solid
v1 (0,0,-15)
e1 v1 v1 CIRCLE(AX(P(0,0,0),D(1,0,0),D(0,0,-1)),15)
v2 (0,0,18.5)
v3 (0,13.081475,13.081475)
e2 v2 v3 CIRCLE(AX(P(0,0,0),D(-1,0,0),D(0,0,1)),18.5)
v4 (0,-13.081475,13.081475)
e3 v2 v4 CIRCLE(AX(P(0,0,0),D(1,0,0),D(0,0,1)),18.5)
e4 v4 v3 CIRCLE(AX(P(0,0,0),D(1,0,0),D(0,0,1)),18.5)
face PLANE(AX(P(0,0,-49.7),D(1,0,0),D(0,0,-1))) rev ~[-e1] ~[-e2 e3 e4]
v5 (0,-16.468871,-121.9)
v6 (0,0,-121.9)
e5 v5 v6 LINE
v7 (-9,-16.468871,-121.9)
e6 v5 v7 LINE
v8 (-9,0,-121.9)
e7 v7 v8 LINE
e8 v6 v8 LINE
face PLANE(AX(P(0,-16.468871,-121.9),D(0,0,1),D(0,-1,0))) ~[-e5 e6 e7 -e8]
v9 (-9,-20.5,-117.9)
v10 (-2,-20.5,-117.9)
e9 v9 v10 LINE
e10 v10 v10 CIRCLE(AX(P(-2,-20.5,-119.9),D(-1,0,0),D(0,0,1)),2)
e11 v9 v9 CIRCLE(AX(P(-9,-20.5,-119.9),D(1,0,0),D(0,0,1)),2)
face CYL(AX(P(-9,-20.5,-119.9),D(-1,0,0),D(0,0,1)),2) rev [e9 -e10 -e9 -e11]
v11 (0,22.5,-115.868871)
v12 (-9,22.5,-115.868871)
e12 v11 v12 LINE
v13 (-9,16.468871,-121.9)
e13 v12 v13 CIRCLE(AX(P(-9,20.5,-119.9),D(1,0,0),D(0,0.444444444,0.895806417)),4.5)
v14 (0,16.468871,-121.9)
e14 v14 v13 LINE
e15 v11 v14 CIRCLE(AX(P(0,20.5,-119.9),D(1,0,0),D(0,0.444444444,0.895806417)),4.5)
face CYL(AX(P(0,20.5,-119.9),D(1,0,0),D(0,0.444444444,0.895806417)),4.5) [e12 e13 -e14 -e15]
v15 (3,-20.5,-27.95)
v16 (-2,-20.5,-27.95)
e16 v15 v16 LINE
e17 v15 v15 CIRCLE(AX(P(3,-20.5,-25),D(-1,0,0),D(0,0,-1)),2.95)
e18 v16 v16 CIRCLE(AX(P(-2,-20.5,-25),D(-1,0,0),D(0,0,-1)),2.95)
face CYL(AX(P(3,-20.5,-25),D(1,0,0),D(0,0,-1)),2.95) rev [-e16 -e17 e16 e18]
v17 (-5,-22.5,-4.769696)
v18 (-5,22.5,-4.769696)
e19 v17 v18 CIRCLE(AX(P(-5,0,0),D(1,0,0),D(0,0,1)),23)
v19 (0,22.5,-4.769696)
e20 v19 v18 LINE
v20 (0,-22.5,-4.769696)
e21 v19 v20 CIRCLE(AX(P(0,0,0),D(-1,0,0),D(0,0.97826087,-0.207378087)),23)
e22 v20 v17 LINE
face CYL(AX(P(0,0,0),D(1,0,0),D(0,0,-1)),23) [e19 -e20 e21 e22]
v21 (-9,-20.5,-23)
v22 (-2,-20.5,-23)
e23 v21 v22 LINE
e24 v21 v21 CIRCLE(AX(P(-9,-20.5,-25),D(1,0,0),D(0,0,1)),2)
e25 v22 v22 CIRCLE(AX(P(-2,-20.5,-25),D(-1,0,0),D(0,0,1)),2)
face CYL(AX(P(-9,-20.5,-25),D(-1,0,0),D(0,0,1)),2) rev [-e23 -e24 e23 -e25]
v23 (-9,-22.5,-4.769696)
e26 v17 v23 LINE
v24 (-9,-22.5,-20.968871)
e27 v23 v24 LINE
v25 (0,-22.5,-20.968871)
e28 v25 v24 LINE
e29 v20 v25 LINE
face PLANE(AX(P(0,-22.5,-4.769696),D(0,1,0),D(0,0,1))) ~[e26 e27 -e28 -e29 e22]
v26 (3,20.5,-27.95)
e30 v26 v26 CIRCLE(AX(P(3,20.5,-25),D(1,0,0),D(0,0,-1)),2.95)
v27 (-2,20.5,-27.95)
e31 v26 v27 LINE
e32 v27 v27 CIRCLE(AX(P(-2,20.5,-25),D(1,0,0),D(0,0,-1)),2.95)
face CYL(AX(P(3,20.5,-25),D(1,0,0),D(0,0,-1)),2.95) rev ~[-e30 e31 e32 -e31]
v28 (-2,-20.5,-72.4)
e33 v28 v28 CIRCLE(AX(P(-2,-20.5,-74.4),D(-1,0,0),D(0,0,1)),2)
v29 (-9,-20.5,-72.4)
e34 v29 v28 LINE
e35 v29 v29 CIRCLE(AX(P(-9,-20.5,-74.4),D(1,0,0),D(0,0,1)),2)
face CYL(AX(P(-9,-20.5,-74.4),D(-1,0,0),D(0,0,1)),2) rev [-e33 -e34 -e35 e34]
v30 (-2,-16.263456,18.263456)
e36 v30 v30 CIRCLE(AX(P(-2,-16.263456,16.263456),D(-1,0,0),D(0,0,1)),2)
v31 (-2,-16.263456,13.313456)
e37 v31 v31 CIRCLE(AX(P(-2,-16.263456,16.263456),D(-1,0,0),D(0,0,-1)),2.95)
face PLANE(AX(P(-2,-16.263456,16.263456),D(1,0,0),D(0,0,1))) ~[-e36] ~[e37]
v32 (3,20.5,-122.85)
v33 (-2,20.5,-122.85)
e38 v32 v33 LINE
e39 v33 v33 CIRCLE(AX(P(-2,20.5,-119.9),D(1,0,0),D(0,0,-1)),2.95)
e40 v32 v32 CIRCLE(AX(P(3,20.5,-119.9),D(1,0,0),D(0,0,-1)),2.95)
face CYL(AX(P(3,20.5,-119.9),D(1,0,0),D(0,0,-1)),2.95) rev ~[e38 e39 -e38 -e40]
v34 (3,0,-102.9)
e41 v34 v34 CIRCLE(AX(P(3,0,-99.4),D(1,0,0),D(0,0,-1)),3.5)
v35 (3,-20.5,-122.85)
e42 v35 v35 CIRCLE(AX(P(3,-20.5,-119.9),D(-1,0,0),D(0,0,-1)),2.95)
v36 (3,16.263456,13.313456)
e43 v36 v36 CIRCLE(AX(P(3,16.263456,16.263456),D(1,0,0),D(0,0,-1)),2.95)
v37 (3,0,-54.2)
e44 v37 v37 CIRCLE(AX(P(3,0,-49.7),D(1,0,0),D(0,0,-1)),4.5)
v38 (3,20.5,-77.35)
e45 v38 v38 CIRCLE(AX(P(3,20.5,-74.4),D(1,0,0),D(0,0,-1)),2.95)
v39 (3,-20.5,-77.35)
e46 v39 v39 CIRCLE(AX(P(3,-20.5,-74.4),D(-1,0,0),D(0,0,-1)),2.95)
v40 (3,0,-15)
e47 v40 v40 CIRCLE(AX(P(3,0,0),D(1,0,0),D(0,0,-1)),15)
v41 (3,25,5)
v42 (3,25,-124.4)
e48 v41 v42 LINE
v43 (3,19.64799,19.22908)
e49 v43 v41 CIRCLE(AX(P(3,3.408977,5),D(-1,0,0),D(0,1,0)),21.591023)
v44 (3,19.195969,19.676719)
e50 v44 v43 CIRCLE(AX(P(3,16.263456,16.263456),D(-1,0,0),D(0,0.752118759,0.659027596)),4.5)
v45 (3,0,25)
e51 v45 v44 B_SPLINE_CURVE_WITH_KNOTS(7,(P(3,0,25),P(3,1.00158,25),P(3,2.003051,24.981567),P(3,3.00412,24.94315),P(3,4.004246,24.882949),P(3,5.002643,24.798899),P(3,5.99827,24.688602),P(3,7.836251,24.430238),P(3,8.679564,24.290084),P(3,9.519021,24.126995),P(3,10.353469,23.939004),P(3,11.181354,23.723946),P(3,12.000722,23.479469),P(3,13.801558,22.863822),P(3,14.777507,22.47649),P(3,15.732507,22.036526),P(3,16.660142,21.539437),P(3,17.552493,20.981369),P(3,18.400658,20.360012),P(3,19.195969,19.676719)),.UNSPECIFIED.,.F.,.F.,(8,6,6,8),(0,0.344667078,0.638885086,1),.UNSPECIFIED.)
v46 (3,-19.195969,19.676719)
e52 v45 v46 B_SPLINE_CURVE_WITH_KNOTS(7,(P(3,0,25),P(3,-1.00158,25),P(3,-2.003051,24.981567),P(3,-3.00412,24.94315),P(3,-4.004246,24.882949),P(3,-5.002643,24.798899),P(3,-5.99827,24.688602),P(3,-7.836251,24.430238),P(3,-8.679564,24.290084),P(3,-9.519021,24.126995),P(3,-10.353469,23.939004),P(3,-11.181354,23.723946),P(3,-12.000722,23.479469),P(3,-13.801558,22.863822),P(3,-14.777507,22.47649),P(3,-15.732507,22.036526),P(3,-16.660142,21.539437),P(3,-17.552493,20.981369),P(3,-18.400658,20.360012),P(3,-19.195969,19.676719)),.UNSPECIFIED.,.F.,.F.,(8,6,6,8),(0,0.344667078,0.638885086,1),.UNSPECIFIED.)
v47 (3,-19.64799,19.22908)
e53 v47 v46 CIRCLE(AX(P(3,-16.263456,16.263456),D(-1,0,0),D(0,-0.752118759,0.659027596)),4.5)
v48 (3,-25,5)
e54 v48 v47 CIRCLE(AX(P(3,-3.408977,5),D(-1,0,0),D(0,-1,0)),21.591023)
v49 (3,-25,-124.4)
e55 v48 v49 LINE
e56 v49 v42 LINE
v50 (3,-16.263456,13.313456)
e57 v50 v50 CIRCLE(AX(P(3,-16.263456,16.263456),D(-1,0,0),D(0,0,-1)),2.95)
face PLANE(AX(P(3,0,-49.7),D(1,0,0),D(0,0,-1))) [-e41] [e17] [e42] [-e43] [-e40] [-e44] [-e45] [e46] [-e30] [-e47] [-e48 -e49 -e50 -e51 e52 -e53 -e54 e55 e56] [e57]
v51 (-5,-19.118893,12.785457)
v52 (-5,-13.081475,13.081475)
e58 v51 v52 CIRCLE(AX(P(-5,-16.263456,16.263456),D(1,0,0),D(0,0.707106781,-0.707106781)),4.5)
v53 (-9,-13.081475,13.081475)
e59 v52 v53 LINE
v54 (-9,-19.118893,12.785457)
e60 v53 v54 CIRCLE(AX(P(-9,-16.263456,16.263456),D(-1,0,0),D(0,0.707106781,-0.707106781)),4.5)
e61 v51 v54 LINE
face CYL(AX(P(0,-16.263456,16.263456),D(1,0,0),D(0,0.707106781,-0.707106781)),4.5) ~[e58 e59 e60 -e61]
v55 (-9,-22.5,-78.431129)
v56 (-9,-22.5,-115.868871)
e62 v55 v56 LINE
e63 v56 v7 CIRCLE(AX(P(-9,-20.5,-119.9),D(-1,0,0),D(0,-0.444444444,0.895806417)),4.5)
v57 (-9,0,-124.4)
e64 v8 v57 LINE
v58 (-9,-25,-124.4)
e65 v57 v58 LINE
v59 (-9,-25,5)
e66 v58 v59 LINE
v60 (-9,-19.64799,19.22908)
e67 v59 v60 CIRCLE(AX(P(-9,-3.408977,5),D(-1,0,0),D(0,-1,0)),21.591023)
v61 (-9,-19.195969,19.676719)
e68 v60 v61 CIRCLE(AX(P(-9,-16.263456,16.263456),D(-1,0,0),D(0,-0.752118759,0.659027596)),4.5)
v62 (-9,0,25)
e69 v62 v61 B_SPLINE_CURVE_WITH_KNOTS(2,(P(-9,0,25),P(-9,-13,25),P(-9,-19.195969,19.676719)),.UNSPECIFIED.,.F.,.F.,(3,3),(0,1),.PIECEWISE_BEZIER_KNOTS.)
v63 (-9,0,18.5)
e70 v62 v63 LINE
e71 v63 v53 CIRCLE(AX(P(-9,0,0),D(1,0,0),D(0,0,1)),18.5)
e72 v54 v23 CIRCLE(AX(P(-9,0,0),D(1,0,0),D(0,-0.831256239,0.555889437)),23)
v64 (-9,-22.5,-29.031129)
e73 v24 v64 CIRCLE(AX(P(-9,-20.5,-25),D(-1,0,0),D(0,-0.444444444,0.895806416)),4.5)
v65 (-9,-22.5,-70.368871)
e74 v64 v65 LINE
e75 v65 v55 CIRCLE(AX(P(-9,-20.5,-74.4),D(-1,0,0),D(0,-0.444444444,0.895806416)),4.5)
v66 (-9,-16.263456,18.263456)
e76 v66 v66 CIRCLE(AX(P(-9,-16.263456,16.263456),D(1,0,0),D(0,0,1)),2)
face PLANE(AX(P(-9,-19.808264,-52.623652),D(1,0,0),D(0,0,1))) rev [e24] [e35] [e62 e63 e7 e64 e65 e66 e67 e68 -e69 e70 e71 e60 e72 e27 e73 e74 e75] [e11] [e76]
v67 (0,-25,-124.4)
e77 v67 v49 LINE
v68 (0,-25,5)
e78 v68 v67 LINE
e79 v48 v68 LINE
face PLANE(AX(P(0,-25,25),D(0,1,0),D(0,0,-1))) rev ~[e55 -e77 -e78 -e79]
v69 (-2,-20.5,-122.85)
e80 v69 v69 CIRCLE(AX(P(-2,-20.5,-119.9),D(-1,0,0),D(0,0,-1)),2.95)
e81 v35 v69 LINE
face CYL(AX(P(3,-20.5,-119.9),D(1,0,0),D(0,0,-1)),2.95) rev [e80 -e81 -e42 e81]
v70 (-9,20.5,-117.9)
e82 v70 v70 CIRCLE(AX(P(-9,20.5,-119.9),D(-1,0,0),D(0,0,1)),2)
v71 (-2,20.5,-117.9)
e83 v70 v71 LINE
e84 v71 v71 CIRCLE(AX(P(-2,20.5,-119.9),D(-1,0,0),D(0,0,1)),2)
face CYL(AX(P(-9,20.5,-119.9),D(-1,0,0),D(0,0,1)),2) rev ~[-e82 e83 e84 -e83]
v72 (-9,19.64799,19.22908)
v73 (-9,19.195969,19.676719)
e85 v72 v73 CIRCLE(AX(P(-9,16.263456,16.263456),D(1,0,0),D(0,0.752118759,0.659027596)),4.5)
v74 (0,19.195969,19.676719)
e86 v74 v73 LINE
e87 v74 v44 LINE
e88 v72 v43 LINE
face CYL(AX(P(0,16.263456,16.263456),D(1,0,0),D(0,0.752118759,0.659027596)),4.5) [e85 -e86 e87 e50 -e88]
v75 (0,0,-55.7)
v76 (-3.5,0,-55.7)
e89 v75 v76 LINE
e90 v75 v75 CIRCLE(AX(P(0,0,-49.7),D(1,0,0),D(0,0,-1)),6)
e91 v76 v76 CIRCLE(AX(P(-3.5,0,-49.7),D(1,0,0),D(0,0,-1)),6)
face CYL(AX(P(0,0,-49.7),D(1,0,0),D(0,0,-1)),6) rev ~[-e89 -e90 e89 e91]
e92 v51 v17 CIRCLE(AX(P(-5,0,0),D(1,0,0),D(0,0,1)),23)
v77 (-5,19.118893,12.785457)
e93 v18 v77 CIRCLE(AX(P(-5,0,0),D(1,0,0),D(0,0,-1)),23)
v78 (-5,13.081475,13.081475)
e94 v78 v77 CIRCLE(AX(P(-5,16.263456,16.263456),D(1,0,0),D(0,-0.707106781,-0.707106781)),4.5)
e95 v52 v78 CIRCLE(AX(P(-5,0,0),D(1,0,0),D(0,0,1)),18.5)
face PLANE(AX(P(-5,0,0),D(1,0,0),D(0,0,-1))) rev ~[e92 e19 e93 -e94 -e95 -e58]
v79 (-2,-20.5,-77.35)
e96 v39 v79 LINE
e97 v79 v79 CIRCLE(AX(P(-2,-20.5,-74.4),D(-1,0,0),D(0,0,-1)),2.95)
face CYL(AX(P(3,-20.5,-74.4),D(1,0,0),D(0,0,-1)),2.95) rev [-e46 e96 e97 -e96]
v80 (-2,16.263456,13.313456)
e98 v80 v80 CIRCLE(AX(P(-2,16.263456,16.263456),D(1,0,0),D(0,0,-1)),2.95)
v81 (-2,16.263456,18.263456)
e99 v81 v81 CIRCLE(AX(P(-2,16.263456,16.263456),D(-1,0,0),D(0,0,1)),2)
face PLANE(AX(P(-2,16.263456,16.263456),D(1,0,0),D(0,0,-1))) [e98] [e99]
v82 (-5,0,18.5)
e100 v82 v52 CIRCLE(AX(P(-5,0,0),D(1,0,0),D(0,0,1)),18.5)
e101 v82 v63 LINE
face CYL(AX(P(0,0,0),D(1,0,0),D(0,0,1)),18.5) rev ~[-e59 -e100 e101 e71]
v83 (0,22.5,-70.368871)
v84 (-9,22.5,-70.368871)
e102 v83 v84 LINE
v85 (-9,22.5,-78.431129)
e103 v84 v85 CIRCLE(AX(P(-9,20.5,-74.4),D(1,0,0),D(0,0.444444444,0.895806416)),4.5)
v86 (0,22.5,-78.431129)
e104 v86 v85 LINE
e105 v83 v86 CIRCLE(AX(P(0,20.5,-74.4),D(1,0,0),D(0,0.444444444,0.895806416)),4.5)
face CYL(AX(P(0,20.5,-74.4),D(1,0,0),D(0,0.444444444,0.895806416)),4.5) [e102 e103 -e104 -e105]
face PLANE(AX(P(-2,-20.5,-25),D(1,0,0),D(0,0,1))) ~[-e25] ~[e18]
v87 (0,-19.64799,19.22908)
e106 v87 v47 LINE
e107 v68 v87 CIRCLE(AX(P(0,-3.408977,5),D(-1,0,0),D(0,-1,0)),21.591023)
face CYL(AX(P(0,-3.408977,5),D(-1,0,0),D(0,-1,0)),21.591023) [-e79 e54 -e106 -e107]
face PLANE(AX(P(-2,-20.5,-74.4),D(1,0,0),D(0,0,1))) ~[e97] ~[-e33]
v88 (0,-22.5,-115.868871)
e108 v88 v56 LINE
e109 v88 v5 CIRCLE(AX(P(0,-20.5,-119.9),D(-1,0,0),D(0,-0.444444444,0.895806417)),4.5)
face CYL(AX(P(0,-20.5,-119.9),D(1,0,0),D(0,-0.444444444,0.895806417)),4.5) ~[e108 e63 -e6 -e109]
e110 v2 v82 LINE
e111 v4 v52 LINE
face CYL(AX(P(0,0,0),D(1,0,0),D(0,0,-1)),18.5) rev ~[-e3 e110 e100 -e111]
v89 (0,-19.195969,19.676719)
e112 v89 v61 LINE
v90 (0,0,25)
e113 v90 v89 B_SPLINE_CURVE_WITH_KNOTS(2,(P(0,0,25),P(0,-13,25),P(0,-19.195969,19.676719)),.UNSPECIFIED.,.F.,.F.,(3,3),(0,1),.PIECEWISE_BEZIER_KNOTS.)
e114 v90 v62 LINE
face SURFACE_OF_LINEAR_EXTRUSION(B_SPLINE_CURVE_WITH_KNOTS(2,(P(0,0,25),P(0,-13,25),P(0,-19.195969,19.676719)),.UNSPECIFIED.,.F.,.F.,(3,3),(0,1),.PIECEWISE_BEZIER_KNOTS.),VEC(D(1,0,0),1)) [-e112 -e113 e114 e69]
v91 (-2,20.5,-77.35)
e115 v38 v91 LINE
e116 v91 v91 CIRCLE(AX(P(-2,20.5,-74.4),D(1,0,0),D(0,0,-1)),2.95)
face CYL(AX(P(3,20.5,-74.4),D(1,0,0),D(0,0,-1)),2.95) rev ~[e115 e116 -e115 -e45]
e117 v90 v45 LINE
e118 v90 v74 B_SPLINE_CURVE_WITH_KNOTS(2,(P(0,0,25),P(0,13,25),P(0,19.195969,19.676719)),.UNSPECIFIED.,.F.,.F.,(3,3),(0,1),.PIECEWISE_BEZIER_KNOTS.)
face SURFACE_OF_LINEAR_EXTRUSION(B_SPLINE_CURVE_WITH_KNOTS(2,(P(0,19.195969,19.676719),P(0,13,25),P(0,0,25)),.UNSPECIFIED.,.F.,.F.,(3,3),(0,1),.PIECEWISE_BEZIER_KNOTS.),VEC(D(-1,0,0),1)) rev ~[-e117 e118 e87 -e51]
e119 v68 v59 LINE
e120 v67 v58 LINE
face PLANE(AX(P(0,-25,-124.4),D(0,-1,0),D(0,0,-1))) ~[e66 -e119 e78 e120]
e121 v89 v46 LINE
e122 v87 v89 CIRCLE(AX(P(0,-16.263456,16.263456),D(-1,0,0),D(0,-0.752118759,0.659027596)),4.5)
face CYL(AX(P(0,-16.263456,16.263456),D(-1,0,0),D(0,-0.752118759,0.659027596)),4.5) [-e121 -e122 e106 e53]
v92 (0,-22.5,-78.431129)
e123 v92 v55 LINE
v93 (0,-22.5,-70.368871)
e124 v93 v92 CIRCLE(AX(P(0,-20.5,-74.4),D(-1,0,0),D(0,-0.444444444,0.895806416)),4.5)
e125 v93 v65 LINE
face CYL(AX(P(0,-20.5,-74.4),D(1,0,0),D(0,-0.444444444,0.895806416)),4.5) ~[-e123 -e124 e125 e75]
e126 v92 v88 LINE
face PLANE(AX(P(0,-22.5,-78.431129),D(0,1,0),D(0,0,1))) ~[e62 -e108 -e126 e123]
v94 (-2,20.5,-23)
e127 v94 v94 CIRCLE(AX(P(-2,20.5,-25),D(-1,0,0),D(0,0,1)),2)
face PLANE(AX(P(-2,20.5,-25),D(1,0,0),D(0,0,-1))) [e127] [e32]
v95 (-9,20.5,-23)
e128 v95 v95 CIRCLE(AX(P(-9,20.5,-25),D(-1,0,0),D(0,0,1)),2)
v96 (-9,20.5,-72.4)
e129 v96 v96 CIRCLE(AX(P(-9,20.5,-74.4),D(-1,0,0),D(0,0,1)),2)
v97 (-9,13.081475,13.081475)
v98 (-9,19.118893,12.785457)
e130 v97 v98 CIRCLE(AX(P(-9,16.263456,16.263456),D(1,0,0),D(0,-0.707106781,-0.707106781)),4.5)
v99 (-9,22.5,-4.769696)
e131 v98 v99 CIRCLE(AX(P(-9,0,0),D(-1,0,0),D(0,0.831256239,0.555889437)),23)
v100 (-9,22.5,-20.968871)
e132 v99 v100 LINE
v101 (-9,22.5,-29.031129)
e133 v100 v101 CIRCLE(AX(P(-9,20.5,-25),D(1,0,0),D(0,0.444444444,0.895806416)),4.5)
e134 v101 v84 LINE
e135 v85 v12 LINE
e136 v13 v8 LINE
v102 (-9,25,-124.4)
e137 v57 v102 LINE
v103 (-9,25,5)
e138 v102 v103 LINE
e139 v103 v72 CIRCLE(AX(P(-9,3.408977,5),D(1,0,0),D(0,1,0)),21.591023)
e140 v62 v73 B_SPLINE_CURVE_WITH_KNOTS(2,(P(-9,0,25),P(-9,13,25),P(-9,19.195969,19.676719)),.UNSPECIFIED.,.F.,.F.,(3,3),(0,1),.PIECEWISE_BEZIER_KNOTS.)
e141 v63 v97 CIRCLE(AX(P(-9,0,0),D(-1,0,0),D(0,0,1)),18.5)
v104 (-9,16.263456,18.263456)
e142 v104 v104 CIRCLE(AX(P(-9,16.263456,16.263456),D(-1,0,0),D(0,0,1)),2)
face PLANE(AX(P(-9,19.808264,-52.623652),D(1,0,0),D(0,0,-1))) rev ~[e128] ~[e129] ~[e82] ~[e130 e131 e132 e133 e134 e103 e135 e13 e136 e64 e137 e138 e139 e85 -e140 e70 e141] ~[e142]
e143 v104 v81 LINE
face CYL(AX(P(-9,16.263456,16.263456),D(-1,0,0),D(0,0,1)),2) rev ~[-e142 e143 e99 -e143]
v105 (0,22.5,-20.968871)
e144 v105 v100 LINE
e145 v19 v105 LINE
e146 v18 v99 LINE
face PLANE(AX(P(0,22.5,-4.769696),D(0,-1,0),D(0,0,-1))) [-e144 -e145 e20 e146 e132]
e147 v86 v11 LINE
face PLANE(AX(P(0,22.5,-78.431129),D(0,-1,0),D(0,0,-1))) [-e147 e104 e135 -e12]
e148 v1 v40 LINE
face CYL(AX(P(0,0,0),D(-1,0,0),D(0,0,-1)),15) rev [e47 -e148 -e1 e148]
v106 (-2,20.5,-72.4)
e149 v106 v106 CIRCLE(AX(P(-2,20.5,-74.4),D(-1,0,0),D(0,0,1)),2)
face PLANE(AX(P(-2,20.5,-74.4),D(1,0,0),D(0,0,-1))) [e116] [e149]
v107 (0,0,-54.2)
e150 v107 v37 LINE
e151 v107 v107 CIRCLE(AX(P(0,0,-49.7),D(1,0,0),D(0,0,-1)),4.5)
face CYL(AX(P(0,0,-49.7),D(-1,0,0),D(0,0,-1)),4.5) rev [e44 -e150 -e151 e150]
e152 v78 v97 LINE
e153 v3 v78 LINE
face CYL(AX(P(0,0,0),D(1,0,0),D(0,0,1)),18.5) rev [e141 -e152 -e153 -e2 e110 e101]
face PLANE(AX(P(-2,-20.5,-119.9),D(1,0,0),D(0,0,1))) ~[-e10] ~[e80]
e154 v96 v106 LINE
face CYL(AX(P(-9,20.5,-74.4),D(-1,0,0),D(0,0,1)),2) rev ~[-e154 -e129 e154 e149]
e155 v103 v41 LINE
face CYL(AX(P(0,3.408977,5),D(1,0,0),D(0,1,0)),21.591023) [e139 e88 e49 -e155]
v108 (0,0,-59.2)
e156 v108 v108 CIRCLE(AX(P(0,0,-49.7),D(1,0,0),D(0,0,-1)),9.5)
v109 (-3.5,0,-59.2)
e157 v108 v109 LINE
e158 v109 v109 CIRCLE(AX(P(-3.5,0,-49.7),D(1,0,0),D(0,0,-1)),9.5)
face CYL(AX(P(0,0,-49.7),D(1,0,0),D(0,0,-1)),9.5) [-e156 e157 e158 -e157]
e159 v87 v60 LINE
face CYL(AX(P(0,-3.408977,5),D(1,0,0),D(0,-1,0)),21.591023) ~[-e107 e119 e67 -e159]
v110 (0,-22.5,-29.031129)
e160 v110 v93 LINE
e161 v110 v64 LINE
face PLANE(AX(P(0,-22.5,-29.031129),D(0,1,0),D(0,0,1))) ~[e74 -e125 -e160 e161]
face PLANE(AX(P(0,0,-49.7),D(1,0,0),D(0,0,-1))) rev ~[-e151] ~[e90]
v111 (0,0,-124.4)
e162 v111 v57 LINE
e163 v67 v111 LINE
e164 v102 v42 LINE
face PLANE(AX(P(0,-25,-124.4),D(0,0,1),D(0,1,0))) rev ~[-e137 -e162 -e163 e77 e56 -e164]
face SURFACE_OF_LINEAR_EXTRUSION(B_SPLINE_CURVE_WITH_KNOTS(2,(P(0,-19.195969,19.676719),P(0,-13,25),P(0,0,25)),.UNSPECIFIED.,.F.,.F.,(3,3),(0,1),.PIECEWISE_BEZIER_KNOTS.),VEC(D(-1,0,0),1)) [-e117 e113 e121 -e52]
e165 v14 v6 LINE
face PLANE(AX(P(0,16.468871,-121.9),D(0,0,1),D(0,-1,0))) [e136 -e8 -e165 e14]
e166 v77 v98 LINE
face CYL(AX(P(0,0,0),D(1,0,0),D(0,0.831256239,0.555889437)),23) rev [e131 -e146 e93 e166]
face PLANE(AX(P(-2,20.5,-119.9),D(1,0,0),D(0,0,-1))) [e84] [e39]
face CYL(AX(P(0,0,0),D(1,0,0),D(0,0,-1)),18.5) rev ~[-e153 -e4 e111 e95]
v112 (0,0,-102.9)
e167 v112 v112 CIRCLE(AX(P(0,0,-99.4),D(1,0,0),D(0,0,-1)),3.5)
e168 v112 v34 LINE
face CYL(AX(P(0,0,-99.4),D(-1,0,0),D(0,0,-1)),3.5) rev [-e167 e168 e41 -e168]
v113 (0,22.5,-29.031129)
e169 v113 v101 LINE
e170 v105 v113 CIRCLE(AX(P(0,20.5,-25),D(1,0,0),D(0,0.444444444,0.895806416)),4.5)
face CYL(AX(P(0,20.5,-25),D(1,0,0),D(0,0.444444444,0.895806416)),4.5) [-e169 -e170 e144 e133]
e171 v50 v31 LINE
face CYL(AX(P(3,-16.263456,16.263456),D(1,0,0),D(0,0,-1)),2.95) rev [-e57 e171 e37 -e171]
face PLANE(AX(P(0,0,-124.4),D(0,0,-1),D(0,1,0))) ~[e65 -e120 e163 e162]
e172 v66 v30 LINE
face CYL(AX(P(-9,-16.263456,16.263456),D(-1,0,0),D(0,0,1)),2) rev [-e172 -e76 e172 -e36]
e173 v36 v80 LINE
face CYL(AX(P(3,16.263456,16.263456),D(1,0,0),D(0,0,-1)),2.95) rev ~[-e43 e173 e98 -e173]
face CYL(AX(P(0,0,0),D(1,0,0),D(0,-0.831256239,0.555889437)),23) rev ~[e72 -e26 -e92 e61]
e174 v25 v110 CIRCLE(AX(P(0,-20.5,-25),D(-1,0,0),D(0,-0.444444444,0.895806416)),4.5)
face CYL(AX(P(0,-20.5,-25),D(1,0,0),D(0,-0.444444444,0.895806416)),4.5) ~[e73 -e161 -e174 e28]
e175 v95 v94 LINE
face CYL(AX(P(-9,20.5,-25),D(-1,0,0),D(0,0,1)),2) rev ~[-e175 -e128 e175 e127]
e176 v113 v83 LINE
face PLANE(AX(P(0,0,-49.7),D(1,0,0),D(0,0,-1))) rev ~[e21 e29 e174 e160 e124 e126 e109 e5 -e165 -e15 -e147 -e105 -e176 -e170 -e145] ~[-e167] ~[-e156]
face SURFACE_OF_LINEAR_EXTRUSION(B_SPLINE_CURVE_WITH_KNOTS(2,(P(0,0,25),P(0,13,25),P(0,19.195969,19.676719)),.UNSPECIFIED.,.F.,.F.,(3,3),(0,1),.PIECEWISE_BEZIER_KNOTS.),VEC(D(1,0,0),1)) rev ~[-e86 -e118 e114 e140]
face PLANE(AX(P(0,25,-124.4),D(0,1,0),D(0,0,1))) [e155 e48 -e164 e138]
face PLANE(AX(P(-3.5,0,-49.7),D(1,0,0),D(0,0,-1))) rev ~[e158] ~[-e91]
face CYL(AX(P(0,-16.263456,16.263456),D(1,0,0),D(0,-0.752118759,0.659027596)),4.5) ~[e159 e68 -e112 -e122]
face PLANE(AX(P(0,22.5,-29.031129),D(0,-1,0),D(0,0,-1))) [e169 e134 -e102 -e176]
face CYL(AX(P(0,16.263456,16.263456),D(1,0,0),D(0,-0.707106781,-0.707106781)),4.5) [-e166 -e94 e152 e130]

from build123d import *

# Parameters (mm, degrees)
SKETCH1_R           = 23
SKETCH1_R_2         = 18.5
BOSS_EXTRUDE1_DEPTH = 5
SKETCH2_R           = 9.5
SKETCH2_R_2         = 6
BOSS_EXTRUDE2_DEPTH = 3.5
SKETCH3_W           = 149.4
SKETCH3_H           = 50
SKETCH3_R           = 15
SKETCH3_R_2         = 4.5
SKETCH3_R_3         = 3.5
BOSS_EXTRUDE3_DEPTH = 3
BOSS_EXTRUDE4_DEPTH = 9
CUT_EXTRUDE1_DEPTH  = 128.205974827
SKETCH6_R           = 2
CUT_EXTRUDE2_DEPTH  = 128.453364147
SKETCH7_R           = 2.95
CUT_EXTRUDE3_DEPTH  = 5


with BuildPart() as part:
    # Sketch1 → Boss-Extrude1 (new body)
    with BuildSketch(Plane(origin=(0, 0, 0), x_dir=(0, 0, -1), z_dir=(1, 0, 0))):
        Circle(SKETCH1_R)
        Circle(SKETCH1_R_2, mode=Mode.SUBTRACT)
    extrude(amount=-BOSS_EXTRUDE1_DEPTH)



with BuildPart() as body_2:
    # Sketch2 → Boss-Extrude2 (new body)
    with BuildSketch(Plane(origin=(0, 0, 0), x_dir=(0, 0, -1), z_dir=(1, 0, 0))):
        with Locations((49.7, 0)):
            Circle(SKETCH2_R)
        with Locations((49.7, 0)):
            Circle(SKETCH2_R_2, mode=Mode.SUBTRACT)
    extrude(amount=-BOSS_EXTRUDE2_DEPTH)


with BuildPart() as part_1:
    add(part.part)

    add(body_2.part)  # Boss-Extrude3 merges body 2
    # Sketch3 → Boss-Extrude3 (add)
    with BuildSketch(Plane(origin=(0, 0, 0), x_dir=(0, 0, -1), z_dir=(1, 0, 0))):
        with Locations((49.7, 0)):
            Rectangle(SKETCH3_W, SKETCH3_H)
        Circle(SKETCH3_R, mode=Mode.SUBTRACT)
        with Locations((49.7, 0)):
            Circle(SKETCH3_R_2, mode=Mode.SUBTRACT)
        with Locations((99.4, 0)):
            Circle(SKETCH3_R_3, mode=Mode.SUBTRACT)
    extrude(amount=BOSS_EXTRUDE3_DEPTH)

    # Sketch4 → Boss-Extrude4 (add)
    with BuildSketch(Plane.ZY):
        with BuildLine():
            Line((-4.769696007, 22.5), (-20.968871126, 22.5))
            ThreePointArc((-20.968871126, 22.5), (-25, 16), (-29.031128874, 22.5))
            Line((-29.031128874, 22.5), (-70.368871126, 22.5))
            ThreePointArc((-70.368871126, 22.5), (-74.4, 16), (-78.431128874, 22.5))
            Line((-78.431128874, 22.5), (-115.868871126, 22.5))
            ThreePointArc((-115.868871126, 22.5), (-116.718019485, 17.318019485), (-121.9, 16.468871126))
            Line((-121.9, 16.468871126), (-121.9, 0))
            Line((-121.9, 0), (-124.4, 0))
            Line((-124.4, 0), (-124.4, 25))
            Line((-124.4, 25), (-25, 25))
            Line((-25, 25), (5, 25))
            ThreePointArc((5, 25), (12.601163208, 23.617752147), (19.229080139, 19.647990392))
            ThreePointArc((19.229080139, 19.647990392), (19.460897577, 19.429899895), (19.676719473, 19.195968924))
            add(Edge.make_bspline(
                [(25, 0), (25, 13), (19.676719473, 19.195968924)],
                knots=[0, 0, 0, 1, 1, 1], degree=2))
            Line((25, 0), (18.5, 0))
            ThreePointArc((18.5, 0), (17.091771351, 7.079643499), (13.081475452, 13.081475452))
            ThreePointArc((13.081475452, 13.081475452), (11.76885524, 16.04308286), (12.785457038, 19.118893491))
            ThreePointArc((12.785457038, 19.118893491), (4.34983638, 22.584926909), (-4.769696007, 22.5))
        make_face()
    boss_extrude4 = extrude(amount=BOSS_EXTRUDE4_DEPTH)

    # Sketch5 → Cut-Extrude1 (cut, symmetric)
    with BuildSketch(Plane.ZY):
        with BuildLine():
            Line((25, 0), (25, 25))
            Line((25, 25), (5, 25))
            ThreePointArc((5, 25), (12.601163208, 23.617752147), (19.229080139, 19.647990392))
            ThreePointArc((19.229080139, 19.647990392), (19.460897577, 19.429899895), (19.676719473, 19.195968924))
            add(Edge.make_bspline(
                [(19.676719473, 19.195968924), (25, 13), (25, 0)],
                knots=[0, 0, 0, 1, 1, 1], degree=2))
        make_face()
    cut_extrude1 = extrude(amount=CUT_EXTRUDE1_DEPTH, both=True, mode=Mode.SUBTRACT)

    # Sketch6 → Cut-Extrude2 (cut, through all)
    with BuildSketch(Plane.ZY.offset(9)):
        with Locations((16.263455967, 16.263455967)):
            Circle(SKETCH6_R)
        with Locations((-25, 20.5)):
            Circle(SKETCH6_R)
        with Locations((-74.4, 20.5)):
            Circle(SKETCH6_R)
        with Locations((-119.9, 20.5)):
            Circle(SKETCH6_R)
    cut_extrude2 = extrude(amount=-CUT_EXTRUDE2_DEPTH, mode=Mode.SUBTRACT)

    # Sketch7 → Cut-Extrude3 (cut)
    with BuildSketch(Plane(origin=(3, 0, 0), x_dir=(0, 0, -1), z_dir=(1, 0, 0))):
        with Locations((-16.263455967, 16.263455967)):
            Circle(SKETCH7_R)
        with Locations((25, 20.5)):
            Circle(SKETCH7_R)
        with Locations((74.4, 20.5)):
            Circle(SKETCH7_R)
        with Locations((119.9, 20.5)):
            Circle(SKETCH7_R)
    cut_extrude3 = extrude(amount=-CUT_EXTRUDE3_DEPTH, mode=Mode.SUBTRACT)

    # Mirror1: Boss-Extrude4, Cut-Extrude1, Cut-Extrude2, Cut-Extrude3 across plane
    add(boss_extrude4.mirror(Plane.ZX))
    add(cut_extrude1.mirror(Plane.ZX), mode=Mode.SUBTRACT)
    add(cut_extrude2.mirror(Plane.ZX), mode=Mode.SUBTRACT)
    add(cut_extrude3.mirror(Plane.ZX), mode=Mode.SUBTRACT)


solid = part_1.part
